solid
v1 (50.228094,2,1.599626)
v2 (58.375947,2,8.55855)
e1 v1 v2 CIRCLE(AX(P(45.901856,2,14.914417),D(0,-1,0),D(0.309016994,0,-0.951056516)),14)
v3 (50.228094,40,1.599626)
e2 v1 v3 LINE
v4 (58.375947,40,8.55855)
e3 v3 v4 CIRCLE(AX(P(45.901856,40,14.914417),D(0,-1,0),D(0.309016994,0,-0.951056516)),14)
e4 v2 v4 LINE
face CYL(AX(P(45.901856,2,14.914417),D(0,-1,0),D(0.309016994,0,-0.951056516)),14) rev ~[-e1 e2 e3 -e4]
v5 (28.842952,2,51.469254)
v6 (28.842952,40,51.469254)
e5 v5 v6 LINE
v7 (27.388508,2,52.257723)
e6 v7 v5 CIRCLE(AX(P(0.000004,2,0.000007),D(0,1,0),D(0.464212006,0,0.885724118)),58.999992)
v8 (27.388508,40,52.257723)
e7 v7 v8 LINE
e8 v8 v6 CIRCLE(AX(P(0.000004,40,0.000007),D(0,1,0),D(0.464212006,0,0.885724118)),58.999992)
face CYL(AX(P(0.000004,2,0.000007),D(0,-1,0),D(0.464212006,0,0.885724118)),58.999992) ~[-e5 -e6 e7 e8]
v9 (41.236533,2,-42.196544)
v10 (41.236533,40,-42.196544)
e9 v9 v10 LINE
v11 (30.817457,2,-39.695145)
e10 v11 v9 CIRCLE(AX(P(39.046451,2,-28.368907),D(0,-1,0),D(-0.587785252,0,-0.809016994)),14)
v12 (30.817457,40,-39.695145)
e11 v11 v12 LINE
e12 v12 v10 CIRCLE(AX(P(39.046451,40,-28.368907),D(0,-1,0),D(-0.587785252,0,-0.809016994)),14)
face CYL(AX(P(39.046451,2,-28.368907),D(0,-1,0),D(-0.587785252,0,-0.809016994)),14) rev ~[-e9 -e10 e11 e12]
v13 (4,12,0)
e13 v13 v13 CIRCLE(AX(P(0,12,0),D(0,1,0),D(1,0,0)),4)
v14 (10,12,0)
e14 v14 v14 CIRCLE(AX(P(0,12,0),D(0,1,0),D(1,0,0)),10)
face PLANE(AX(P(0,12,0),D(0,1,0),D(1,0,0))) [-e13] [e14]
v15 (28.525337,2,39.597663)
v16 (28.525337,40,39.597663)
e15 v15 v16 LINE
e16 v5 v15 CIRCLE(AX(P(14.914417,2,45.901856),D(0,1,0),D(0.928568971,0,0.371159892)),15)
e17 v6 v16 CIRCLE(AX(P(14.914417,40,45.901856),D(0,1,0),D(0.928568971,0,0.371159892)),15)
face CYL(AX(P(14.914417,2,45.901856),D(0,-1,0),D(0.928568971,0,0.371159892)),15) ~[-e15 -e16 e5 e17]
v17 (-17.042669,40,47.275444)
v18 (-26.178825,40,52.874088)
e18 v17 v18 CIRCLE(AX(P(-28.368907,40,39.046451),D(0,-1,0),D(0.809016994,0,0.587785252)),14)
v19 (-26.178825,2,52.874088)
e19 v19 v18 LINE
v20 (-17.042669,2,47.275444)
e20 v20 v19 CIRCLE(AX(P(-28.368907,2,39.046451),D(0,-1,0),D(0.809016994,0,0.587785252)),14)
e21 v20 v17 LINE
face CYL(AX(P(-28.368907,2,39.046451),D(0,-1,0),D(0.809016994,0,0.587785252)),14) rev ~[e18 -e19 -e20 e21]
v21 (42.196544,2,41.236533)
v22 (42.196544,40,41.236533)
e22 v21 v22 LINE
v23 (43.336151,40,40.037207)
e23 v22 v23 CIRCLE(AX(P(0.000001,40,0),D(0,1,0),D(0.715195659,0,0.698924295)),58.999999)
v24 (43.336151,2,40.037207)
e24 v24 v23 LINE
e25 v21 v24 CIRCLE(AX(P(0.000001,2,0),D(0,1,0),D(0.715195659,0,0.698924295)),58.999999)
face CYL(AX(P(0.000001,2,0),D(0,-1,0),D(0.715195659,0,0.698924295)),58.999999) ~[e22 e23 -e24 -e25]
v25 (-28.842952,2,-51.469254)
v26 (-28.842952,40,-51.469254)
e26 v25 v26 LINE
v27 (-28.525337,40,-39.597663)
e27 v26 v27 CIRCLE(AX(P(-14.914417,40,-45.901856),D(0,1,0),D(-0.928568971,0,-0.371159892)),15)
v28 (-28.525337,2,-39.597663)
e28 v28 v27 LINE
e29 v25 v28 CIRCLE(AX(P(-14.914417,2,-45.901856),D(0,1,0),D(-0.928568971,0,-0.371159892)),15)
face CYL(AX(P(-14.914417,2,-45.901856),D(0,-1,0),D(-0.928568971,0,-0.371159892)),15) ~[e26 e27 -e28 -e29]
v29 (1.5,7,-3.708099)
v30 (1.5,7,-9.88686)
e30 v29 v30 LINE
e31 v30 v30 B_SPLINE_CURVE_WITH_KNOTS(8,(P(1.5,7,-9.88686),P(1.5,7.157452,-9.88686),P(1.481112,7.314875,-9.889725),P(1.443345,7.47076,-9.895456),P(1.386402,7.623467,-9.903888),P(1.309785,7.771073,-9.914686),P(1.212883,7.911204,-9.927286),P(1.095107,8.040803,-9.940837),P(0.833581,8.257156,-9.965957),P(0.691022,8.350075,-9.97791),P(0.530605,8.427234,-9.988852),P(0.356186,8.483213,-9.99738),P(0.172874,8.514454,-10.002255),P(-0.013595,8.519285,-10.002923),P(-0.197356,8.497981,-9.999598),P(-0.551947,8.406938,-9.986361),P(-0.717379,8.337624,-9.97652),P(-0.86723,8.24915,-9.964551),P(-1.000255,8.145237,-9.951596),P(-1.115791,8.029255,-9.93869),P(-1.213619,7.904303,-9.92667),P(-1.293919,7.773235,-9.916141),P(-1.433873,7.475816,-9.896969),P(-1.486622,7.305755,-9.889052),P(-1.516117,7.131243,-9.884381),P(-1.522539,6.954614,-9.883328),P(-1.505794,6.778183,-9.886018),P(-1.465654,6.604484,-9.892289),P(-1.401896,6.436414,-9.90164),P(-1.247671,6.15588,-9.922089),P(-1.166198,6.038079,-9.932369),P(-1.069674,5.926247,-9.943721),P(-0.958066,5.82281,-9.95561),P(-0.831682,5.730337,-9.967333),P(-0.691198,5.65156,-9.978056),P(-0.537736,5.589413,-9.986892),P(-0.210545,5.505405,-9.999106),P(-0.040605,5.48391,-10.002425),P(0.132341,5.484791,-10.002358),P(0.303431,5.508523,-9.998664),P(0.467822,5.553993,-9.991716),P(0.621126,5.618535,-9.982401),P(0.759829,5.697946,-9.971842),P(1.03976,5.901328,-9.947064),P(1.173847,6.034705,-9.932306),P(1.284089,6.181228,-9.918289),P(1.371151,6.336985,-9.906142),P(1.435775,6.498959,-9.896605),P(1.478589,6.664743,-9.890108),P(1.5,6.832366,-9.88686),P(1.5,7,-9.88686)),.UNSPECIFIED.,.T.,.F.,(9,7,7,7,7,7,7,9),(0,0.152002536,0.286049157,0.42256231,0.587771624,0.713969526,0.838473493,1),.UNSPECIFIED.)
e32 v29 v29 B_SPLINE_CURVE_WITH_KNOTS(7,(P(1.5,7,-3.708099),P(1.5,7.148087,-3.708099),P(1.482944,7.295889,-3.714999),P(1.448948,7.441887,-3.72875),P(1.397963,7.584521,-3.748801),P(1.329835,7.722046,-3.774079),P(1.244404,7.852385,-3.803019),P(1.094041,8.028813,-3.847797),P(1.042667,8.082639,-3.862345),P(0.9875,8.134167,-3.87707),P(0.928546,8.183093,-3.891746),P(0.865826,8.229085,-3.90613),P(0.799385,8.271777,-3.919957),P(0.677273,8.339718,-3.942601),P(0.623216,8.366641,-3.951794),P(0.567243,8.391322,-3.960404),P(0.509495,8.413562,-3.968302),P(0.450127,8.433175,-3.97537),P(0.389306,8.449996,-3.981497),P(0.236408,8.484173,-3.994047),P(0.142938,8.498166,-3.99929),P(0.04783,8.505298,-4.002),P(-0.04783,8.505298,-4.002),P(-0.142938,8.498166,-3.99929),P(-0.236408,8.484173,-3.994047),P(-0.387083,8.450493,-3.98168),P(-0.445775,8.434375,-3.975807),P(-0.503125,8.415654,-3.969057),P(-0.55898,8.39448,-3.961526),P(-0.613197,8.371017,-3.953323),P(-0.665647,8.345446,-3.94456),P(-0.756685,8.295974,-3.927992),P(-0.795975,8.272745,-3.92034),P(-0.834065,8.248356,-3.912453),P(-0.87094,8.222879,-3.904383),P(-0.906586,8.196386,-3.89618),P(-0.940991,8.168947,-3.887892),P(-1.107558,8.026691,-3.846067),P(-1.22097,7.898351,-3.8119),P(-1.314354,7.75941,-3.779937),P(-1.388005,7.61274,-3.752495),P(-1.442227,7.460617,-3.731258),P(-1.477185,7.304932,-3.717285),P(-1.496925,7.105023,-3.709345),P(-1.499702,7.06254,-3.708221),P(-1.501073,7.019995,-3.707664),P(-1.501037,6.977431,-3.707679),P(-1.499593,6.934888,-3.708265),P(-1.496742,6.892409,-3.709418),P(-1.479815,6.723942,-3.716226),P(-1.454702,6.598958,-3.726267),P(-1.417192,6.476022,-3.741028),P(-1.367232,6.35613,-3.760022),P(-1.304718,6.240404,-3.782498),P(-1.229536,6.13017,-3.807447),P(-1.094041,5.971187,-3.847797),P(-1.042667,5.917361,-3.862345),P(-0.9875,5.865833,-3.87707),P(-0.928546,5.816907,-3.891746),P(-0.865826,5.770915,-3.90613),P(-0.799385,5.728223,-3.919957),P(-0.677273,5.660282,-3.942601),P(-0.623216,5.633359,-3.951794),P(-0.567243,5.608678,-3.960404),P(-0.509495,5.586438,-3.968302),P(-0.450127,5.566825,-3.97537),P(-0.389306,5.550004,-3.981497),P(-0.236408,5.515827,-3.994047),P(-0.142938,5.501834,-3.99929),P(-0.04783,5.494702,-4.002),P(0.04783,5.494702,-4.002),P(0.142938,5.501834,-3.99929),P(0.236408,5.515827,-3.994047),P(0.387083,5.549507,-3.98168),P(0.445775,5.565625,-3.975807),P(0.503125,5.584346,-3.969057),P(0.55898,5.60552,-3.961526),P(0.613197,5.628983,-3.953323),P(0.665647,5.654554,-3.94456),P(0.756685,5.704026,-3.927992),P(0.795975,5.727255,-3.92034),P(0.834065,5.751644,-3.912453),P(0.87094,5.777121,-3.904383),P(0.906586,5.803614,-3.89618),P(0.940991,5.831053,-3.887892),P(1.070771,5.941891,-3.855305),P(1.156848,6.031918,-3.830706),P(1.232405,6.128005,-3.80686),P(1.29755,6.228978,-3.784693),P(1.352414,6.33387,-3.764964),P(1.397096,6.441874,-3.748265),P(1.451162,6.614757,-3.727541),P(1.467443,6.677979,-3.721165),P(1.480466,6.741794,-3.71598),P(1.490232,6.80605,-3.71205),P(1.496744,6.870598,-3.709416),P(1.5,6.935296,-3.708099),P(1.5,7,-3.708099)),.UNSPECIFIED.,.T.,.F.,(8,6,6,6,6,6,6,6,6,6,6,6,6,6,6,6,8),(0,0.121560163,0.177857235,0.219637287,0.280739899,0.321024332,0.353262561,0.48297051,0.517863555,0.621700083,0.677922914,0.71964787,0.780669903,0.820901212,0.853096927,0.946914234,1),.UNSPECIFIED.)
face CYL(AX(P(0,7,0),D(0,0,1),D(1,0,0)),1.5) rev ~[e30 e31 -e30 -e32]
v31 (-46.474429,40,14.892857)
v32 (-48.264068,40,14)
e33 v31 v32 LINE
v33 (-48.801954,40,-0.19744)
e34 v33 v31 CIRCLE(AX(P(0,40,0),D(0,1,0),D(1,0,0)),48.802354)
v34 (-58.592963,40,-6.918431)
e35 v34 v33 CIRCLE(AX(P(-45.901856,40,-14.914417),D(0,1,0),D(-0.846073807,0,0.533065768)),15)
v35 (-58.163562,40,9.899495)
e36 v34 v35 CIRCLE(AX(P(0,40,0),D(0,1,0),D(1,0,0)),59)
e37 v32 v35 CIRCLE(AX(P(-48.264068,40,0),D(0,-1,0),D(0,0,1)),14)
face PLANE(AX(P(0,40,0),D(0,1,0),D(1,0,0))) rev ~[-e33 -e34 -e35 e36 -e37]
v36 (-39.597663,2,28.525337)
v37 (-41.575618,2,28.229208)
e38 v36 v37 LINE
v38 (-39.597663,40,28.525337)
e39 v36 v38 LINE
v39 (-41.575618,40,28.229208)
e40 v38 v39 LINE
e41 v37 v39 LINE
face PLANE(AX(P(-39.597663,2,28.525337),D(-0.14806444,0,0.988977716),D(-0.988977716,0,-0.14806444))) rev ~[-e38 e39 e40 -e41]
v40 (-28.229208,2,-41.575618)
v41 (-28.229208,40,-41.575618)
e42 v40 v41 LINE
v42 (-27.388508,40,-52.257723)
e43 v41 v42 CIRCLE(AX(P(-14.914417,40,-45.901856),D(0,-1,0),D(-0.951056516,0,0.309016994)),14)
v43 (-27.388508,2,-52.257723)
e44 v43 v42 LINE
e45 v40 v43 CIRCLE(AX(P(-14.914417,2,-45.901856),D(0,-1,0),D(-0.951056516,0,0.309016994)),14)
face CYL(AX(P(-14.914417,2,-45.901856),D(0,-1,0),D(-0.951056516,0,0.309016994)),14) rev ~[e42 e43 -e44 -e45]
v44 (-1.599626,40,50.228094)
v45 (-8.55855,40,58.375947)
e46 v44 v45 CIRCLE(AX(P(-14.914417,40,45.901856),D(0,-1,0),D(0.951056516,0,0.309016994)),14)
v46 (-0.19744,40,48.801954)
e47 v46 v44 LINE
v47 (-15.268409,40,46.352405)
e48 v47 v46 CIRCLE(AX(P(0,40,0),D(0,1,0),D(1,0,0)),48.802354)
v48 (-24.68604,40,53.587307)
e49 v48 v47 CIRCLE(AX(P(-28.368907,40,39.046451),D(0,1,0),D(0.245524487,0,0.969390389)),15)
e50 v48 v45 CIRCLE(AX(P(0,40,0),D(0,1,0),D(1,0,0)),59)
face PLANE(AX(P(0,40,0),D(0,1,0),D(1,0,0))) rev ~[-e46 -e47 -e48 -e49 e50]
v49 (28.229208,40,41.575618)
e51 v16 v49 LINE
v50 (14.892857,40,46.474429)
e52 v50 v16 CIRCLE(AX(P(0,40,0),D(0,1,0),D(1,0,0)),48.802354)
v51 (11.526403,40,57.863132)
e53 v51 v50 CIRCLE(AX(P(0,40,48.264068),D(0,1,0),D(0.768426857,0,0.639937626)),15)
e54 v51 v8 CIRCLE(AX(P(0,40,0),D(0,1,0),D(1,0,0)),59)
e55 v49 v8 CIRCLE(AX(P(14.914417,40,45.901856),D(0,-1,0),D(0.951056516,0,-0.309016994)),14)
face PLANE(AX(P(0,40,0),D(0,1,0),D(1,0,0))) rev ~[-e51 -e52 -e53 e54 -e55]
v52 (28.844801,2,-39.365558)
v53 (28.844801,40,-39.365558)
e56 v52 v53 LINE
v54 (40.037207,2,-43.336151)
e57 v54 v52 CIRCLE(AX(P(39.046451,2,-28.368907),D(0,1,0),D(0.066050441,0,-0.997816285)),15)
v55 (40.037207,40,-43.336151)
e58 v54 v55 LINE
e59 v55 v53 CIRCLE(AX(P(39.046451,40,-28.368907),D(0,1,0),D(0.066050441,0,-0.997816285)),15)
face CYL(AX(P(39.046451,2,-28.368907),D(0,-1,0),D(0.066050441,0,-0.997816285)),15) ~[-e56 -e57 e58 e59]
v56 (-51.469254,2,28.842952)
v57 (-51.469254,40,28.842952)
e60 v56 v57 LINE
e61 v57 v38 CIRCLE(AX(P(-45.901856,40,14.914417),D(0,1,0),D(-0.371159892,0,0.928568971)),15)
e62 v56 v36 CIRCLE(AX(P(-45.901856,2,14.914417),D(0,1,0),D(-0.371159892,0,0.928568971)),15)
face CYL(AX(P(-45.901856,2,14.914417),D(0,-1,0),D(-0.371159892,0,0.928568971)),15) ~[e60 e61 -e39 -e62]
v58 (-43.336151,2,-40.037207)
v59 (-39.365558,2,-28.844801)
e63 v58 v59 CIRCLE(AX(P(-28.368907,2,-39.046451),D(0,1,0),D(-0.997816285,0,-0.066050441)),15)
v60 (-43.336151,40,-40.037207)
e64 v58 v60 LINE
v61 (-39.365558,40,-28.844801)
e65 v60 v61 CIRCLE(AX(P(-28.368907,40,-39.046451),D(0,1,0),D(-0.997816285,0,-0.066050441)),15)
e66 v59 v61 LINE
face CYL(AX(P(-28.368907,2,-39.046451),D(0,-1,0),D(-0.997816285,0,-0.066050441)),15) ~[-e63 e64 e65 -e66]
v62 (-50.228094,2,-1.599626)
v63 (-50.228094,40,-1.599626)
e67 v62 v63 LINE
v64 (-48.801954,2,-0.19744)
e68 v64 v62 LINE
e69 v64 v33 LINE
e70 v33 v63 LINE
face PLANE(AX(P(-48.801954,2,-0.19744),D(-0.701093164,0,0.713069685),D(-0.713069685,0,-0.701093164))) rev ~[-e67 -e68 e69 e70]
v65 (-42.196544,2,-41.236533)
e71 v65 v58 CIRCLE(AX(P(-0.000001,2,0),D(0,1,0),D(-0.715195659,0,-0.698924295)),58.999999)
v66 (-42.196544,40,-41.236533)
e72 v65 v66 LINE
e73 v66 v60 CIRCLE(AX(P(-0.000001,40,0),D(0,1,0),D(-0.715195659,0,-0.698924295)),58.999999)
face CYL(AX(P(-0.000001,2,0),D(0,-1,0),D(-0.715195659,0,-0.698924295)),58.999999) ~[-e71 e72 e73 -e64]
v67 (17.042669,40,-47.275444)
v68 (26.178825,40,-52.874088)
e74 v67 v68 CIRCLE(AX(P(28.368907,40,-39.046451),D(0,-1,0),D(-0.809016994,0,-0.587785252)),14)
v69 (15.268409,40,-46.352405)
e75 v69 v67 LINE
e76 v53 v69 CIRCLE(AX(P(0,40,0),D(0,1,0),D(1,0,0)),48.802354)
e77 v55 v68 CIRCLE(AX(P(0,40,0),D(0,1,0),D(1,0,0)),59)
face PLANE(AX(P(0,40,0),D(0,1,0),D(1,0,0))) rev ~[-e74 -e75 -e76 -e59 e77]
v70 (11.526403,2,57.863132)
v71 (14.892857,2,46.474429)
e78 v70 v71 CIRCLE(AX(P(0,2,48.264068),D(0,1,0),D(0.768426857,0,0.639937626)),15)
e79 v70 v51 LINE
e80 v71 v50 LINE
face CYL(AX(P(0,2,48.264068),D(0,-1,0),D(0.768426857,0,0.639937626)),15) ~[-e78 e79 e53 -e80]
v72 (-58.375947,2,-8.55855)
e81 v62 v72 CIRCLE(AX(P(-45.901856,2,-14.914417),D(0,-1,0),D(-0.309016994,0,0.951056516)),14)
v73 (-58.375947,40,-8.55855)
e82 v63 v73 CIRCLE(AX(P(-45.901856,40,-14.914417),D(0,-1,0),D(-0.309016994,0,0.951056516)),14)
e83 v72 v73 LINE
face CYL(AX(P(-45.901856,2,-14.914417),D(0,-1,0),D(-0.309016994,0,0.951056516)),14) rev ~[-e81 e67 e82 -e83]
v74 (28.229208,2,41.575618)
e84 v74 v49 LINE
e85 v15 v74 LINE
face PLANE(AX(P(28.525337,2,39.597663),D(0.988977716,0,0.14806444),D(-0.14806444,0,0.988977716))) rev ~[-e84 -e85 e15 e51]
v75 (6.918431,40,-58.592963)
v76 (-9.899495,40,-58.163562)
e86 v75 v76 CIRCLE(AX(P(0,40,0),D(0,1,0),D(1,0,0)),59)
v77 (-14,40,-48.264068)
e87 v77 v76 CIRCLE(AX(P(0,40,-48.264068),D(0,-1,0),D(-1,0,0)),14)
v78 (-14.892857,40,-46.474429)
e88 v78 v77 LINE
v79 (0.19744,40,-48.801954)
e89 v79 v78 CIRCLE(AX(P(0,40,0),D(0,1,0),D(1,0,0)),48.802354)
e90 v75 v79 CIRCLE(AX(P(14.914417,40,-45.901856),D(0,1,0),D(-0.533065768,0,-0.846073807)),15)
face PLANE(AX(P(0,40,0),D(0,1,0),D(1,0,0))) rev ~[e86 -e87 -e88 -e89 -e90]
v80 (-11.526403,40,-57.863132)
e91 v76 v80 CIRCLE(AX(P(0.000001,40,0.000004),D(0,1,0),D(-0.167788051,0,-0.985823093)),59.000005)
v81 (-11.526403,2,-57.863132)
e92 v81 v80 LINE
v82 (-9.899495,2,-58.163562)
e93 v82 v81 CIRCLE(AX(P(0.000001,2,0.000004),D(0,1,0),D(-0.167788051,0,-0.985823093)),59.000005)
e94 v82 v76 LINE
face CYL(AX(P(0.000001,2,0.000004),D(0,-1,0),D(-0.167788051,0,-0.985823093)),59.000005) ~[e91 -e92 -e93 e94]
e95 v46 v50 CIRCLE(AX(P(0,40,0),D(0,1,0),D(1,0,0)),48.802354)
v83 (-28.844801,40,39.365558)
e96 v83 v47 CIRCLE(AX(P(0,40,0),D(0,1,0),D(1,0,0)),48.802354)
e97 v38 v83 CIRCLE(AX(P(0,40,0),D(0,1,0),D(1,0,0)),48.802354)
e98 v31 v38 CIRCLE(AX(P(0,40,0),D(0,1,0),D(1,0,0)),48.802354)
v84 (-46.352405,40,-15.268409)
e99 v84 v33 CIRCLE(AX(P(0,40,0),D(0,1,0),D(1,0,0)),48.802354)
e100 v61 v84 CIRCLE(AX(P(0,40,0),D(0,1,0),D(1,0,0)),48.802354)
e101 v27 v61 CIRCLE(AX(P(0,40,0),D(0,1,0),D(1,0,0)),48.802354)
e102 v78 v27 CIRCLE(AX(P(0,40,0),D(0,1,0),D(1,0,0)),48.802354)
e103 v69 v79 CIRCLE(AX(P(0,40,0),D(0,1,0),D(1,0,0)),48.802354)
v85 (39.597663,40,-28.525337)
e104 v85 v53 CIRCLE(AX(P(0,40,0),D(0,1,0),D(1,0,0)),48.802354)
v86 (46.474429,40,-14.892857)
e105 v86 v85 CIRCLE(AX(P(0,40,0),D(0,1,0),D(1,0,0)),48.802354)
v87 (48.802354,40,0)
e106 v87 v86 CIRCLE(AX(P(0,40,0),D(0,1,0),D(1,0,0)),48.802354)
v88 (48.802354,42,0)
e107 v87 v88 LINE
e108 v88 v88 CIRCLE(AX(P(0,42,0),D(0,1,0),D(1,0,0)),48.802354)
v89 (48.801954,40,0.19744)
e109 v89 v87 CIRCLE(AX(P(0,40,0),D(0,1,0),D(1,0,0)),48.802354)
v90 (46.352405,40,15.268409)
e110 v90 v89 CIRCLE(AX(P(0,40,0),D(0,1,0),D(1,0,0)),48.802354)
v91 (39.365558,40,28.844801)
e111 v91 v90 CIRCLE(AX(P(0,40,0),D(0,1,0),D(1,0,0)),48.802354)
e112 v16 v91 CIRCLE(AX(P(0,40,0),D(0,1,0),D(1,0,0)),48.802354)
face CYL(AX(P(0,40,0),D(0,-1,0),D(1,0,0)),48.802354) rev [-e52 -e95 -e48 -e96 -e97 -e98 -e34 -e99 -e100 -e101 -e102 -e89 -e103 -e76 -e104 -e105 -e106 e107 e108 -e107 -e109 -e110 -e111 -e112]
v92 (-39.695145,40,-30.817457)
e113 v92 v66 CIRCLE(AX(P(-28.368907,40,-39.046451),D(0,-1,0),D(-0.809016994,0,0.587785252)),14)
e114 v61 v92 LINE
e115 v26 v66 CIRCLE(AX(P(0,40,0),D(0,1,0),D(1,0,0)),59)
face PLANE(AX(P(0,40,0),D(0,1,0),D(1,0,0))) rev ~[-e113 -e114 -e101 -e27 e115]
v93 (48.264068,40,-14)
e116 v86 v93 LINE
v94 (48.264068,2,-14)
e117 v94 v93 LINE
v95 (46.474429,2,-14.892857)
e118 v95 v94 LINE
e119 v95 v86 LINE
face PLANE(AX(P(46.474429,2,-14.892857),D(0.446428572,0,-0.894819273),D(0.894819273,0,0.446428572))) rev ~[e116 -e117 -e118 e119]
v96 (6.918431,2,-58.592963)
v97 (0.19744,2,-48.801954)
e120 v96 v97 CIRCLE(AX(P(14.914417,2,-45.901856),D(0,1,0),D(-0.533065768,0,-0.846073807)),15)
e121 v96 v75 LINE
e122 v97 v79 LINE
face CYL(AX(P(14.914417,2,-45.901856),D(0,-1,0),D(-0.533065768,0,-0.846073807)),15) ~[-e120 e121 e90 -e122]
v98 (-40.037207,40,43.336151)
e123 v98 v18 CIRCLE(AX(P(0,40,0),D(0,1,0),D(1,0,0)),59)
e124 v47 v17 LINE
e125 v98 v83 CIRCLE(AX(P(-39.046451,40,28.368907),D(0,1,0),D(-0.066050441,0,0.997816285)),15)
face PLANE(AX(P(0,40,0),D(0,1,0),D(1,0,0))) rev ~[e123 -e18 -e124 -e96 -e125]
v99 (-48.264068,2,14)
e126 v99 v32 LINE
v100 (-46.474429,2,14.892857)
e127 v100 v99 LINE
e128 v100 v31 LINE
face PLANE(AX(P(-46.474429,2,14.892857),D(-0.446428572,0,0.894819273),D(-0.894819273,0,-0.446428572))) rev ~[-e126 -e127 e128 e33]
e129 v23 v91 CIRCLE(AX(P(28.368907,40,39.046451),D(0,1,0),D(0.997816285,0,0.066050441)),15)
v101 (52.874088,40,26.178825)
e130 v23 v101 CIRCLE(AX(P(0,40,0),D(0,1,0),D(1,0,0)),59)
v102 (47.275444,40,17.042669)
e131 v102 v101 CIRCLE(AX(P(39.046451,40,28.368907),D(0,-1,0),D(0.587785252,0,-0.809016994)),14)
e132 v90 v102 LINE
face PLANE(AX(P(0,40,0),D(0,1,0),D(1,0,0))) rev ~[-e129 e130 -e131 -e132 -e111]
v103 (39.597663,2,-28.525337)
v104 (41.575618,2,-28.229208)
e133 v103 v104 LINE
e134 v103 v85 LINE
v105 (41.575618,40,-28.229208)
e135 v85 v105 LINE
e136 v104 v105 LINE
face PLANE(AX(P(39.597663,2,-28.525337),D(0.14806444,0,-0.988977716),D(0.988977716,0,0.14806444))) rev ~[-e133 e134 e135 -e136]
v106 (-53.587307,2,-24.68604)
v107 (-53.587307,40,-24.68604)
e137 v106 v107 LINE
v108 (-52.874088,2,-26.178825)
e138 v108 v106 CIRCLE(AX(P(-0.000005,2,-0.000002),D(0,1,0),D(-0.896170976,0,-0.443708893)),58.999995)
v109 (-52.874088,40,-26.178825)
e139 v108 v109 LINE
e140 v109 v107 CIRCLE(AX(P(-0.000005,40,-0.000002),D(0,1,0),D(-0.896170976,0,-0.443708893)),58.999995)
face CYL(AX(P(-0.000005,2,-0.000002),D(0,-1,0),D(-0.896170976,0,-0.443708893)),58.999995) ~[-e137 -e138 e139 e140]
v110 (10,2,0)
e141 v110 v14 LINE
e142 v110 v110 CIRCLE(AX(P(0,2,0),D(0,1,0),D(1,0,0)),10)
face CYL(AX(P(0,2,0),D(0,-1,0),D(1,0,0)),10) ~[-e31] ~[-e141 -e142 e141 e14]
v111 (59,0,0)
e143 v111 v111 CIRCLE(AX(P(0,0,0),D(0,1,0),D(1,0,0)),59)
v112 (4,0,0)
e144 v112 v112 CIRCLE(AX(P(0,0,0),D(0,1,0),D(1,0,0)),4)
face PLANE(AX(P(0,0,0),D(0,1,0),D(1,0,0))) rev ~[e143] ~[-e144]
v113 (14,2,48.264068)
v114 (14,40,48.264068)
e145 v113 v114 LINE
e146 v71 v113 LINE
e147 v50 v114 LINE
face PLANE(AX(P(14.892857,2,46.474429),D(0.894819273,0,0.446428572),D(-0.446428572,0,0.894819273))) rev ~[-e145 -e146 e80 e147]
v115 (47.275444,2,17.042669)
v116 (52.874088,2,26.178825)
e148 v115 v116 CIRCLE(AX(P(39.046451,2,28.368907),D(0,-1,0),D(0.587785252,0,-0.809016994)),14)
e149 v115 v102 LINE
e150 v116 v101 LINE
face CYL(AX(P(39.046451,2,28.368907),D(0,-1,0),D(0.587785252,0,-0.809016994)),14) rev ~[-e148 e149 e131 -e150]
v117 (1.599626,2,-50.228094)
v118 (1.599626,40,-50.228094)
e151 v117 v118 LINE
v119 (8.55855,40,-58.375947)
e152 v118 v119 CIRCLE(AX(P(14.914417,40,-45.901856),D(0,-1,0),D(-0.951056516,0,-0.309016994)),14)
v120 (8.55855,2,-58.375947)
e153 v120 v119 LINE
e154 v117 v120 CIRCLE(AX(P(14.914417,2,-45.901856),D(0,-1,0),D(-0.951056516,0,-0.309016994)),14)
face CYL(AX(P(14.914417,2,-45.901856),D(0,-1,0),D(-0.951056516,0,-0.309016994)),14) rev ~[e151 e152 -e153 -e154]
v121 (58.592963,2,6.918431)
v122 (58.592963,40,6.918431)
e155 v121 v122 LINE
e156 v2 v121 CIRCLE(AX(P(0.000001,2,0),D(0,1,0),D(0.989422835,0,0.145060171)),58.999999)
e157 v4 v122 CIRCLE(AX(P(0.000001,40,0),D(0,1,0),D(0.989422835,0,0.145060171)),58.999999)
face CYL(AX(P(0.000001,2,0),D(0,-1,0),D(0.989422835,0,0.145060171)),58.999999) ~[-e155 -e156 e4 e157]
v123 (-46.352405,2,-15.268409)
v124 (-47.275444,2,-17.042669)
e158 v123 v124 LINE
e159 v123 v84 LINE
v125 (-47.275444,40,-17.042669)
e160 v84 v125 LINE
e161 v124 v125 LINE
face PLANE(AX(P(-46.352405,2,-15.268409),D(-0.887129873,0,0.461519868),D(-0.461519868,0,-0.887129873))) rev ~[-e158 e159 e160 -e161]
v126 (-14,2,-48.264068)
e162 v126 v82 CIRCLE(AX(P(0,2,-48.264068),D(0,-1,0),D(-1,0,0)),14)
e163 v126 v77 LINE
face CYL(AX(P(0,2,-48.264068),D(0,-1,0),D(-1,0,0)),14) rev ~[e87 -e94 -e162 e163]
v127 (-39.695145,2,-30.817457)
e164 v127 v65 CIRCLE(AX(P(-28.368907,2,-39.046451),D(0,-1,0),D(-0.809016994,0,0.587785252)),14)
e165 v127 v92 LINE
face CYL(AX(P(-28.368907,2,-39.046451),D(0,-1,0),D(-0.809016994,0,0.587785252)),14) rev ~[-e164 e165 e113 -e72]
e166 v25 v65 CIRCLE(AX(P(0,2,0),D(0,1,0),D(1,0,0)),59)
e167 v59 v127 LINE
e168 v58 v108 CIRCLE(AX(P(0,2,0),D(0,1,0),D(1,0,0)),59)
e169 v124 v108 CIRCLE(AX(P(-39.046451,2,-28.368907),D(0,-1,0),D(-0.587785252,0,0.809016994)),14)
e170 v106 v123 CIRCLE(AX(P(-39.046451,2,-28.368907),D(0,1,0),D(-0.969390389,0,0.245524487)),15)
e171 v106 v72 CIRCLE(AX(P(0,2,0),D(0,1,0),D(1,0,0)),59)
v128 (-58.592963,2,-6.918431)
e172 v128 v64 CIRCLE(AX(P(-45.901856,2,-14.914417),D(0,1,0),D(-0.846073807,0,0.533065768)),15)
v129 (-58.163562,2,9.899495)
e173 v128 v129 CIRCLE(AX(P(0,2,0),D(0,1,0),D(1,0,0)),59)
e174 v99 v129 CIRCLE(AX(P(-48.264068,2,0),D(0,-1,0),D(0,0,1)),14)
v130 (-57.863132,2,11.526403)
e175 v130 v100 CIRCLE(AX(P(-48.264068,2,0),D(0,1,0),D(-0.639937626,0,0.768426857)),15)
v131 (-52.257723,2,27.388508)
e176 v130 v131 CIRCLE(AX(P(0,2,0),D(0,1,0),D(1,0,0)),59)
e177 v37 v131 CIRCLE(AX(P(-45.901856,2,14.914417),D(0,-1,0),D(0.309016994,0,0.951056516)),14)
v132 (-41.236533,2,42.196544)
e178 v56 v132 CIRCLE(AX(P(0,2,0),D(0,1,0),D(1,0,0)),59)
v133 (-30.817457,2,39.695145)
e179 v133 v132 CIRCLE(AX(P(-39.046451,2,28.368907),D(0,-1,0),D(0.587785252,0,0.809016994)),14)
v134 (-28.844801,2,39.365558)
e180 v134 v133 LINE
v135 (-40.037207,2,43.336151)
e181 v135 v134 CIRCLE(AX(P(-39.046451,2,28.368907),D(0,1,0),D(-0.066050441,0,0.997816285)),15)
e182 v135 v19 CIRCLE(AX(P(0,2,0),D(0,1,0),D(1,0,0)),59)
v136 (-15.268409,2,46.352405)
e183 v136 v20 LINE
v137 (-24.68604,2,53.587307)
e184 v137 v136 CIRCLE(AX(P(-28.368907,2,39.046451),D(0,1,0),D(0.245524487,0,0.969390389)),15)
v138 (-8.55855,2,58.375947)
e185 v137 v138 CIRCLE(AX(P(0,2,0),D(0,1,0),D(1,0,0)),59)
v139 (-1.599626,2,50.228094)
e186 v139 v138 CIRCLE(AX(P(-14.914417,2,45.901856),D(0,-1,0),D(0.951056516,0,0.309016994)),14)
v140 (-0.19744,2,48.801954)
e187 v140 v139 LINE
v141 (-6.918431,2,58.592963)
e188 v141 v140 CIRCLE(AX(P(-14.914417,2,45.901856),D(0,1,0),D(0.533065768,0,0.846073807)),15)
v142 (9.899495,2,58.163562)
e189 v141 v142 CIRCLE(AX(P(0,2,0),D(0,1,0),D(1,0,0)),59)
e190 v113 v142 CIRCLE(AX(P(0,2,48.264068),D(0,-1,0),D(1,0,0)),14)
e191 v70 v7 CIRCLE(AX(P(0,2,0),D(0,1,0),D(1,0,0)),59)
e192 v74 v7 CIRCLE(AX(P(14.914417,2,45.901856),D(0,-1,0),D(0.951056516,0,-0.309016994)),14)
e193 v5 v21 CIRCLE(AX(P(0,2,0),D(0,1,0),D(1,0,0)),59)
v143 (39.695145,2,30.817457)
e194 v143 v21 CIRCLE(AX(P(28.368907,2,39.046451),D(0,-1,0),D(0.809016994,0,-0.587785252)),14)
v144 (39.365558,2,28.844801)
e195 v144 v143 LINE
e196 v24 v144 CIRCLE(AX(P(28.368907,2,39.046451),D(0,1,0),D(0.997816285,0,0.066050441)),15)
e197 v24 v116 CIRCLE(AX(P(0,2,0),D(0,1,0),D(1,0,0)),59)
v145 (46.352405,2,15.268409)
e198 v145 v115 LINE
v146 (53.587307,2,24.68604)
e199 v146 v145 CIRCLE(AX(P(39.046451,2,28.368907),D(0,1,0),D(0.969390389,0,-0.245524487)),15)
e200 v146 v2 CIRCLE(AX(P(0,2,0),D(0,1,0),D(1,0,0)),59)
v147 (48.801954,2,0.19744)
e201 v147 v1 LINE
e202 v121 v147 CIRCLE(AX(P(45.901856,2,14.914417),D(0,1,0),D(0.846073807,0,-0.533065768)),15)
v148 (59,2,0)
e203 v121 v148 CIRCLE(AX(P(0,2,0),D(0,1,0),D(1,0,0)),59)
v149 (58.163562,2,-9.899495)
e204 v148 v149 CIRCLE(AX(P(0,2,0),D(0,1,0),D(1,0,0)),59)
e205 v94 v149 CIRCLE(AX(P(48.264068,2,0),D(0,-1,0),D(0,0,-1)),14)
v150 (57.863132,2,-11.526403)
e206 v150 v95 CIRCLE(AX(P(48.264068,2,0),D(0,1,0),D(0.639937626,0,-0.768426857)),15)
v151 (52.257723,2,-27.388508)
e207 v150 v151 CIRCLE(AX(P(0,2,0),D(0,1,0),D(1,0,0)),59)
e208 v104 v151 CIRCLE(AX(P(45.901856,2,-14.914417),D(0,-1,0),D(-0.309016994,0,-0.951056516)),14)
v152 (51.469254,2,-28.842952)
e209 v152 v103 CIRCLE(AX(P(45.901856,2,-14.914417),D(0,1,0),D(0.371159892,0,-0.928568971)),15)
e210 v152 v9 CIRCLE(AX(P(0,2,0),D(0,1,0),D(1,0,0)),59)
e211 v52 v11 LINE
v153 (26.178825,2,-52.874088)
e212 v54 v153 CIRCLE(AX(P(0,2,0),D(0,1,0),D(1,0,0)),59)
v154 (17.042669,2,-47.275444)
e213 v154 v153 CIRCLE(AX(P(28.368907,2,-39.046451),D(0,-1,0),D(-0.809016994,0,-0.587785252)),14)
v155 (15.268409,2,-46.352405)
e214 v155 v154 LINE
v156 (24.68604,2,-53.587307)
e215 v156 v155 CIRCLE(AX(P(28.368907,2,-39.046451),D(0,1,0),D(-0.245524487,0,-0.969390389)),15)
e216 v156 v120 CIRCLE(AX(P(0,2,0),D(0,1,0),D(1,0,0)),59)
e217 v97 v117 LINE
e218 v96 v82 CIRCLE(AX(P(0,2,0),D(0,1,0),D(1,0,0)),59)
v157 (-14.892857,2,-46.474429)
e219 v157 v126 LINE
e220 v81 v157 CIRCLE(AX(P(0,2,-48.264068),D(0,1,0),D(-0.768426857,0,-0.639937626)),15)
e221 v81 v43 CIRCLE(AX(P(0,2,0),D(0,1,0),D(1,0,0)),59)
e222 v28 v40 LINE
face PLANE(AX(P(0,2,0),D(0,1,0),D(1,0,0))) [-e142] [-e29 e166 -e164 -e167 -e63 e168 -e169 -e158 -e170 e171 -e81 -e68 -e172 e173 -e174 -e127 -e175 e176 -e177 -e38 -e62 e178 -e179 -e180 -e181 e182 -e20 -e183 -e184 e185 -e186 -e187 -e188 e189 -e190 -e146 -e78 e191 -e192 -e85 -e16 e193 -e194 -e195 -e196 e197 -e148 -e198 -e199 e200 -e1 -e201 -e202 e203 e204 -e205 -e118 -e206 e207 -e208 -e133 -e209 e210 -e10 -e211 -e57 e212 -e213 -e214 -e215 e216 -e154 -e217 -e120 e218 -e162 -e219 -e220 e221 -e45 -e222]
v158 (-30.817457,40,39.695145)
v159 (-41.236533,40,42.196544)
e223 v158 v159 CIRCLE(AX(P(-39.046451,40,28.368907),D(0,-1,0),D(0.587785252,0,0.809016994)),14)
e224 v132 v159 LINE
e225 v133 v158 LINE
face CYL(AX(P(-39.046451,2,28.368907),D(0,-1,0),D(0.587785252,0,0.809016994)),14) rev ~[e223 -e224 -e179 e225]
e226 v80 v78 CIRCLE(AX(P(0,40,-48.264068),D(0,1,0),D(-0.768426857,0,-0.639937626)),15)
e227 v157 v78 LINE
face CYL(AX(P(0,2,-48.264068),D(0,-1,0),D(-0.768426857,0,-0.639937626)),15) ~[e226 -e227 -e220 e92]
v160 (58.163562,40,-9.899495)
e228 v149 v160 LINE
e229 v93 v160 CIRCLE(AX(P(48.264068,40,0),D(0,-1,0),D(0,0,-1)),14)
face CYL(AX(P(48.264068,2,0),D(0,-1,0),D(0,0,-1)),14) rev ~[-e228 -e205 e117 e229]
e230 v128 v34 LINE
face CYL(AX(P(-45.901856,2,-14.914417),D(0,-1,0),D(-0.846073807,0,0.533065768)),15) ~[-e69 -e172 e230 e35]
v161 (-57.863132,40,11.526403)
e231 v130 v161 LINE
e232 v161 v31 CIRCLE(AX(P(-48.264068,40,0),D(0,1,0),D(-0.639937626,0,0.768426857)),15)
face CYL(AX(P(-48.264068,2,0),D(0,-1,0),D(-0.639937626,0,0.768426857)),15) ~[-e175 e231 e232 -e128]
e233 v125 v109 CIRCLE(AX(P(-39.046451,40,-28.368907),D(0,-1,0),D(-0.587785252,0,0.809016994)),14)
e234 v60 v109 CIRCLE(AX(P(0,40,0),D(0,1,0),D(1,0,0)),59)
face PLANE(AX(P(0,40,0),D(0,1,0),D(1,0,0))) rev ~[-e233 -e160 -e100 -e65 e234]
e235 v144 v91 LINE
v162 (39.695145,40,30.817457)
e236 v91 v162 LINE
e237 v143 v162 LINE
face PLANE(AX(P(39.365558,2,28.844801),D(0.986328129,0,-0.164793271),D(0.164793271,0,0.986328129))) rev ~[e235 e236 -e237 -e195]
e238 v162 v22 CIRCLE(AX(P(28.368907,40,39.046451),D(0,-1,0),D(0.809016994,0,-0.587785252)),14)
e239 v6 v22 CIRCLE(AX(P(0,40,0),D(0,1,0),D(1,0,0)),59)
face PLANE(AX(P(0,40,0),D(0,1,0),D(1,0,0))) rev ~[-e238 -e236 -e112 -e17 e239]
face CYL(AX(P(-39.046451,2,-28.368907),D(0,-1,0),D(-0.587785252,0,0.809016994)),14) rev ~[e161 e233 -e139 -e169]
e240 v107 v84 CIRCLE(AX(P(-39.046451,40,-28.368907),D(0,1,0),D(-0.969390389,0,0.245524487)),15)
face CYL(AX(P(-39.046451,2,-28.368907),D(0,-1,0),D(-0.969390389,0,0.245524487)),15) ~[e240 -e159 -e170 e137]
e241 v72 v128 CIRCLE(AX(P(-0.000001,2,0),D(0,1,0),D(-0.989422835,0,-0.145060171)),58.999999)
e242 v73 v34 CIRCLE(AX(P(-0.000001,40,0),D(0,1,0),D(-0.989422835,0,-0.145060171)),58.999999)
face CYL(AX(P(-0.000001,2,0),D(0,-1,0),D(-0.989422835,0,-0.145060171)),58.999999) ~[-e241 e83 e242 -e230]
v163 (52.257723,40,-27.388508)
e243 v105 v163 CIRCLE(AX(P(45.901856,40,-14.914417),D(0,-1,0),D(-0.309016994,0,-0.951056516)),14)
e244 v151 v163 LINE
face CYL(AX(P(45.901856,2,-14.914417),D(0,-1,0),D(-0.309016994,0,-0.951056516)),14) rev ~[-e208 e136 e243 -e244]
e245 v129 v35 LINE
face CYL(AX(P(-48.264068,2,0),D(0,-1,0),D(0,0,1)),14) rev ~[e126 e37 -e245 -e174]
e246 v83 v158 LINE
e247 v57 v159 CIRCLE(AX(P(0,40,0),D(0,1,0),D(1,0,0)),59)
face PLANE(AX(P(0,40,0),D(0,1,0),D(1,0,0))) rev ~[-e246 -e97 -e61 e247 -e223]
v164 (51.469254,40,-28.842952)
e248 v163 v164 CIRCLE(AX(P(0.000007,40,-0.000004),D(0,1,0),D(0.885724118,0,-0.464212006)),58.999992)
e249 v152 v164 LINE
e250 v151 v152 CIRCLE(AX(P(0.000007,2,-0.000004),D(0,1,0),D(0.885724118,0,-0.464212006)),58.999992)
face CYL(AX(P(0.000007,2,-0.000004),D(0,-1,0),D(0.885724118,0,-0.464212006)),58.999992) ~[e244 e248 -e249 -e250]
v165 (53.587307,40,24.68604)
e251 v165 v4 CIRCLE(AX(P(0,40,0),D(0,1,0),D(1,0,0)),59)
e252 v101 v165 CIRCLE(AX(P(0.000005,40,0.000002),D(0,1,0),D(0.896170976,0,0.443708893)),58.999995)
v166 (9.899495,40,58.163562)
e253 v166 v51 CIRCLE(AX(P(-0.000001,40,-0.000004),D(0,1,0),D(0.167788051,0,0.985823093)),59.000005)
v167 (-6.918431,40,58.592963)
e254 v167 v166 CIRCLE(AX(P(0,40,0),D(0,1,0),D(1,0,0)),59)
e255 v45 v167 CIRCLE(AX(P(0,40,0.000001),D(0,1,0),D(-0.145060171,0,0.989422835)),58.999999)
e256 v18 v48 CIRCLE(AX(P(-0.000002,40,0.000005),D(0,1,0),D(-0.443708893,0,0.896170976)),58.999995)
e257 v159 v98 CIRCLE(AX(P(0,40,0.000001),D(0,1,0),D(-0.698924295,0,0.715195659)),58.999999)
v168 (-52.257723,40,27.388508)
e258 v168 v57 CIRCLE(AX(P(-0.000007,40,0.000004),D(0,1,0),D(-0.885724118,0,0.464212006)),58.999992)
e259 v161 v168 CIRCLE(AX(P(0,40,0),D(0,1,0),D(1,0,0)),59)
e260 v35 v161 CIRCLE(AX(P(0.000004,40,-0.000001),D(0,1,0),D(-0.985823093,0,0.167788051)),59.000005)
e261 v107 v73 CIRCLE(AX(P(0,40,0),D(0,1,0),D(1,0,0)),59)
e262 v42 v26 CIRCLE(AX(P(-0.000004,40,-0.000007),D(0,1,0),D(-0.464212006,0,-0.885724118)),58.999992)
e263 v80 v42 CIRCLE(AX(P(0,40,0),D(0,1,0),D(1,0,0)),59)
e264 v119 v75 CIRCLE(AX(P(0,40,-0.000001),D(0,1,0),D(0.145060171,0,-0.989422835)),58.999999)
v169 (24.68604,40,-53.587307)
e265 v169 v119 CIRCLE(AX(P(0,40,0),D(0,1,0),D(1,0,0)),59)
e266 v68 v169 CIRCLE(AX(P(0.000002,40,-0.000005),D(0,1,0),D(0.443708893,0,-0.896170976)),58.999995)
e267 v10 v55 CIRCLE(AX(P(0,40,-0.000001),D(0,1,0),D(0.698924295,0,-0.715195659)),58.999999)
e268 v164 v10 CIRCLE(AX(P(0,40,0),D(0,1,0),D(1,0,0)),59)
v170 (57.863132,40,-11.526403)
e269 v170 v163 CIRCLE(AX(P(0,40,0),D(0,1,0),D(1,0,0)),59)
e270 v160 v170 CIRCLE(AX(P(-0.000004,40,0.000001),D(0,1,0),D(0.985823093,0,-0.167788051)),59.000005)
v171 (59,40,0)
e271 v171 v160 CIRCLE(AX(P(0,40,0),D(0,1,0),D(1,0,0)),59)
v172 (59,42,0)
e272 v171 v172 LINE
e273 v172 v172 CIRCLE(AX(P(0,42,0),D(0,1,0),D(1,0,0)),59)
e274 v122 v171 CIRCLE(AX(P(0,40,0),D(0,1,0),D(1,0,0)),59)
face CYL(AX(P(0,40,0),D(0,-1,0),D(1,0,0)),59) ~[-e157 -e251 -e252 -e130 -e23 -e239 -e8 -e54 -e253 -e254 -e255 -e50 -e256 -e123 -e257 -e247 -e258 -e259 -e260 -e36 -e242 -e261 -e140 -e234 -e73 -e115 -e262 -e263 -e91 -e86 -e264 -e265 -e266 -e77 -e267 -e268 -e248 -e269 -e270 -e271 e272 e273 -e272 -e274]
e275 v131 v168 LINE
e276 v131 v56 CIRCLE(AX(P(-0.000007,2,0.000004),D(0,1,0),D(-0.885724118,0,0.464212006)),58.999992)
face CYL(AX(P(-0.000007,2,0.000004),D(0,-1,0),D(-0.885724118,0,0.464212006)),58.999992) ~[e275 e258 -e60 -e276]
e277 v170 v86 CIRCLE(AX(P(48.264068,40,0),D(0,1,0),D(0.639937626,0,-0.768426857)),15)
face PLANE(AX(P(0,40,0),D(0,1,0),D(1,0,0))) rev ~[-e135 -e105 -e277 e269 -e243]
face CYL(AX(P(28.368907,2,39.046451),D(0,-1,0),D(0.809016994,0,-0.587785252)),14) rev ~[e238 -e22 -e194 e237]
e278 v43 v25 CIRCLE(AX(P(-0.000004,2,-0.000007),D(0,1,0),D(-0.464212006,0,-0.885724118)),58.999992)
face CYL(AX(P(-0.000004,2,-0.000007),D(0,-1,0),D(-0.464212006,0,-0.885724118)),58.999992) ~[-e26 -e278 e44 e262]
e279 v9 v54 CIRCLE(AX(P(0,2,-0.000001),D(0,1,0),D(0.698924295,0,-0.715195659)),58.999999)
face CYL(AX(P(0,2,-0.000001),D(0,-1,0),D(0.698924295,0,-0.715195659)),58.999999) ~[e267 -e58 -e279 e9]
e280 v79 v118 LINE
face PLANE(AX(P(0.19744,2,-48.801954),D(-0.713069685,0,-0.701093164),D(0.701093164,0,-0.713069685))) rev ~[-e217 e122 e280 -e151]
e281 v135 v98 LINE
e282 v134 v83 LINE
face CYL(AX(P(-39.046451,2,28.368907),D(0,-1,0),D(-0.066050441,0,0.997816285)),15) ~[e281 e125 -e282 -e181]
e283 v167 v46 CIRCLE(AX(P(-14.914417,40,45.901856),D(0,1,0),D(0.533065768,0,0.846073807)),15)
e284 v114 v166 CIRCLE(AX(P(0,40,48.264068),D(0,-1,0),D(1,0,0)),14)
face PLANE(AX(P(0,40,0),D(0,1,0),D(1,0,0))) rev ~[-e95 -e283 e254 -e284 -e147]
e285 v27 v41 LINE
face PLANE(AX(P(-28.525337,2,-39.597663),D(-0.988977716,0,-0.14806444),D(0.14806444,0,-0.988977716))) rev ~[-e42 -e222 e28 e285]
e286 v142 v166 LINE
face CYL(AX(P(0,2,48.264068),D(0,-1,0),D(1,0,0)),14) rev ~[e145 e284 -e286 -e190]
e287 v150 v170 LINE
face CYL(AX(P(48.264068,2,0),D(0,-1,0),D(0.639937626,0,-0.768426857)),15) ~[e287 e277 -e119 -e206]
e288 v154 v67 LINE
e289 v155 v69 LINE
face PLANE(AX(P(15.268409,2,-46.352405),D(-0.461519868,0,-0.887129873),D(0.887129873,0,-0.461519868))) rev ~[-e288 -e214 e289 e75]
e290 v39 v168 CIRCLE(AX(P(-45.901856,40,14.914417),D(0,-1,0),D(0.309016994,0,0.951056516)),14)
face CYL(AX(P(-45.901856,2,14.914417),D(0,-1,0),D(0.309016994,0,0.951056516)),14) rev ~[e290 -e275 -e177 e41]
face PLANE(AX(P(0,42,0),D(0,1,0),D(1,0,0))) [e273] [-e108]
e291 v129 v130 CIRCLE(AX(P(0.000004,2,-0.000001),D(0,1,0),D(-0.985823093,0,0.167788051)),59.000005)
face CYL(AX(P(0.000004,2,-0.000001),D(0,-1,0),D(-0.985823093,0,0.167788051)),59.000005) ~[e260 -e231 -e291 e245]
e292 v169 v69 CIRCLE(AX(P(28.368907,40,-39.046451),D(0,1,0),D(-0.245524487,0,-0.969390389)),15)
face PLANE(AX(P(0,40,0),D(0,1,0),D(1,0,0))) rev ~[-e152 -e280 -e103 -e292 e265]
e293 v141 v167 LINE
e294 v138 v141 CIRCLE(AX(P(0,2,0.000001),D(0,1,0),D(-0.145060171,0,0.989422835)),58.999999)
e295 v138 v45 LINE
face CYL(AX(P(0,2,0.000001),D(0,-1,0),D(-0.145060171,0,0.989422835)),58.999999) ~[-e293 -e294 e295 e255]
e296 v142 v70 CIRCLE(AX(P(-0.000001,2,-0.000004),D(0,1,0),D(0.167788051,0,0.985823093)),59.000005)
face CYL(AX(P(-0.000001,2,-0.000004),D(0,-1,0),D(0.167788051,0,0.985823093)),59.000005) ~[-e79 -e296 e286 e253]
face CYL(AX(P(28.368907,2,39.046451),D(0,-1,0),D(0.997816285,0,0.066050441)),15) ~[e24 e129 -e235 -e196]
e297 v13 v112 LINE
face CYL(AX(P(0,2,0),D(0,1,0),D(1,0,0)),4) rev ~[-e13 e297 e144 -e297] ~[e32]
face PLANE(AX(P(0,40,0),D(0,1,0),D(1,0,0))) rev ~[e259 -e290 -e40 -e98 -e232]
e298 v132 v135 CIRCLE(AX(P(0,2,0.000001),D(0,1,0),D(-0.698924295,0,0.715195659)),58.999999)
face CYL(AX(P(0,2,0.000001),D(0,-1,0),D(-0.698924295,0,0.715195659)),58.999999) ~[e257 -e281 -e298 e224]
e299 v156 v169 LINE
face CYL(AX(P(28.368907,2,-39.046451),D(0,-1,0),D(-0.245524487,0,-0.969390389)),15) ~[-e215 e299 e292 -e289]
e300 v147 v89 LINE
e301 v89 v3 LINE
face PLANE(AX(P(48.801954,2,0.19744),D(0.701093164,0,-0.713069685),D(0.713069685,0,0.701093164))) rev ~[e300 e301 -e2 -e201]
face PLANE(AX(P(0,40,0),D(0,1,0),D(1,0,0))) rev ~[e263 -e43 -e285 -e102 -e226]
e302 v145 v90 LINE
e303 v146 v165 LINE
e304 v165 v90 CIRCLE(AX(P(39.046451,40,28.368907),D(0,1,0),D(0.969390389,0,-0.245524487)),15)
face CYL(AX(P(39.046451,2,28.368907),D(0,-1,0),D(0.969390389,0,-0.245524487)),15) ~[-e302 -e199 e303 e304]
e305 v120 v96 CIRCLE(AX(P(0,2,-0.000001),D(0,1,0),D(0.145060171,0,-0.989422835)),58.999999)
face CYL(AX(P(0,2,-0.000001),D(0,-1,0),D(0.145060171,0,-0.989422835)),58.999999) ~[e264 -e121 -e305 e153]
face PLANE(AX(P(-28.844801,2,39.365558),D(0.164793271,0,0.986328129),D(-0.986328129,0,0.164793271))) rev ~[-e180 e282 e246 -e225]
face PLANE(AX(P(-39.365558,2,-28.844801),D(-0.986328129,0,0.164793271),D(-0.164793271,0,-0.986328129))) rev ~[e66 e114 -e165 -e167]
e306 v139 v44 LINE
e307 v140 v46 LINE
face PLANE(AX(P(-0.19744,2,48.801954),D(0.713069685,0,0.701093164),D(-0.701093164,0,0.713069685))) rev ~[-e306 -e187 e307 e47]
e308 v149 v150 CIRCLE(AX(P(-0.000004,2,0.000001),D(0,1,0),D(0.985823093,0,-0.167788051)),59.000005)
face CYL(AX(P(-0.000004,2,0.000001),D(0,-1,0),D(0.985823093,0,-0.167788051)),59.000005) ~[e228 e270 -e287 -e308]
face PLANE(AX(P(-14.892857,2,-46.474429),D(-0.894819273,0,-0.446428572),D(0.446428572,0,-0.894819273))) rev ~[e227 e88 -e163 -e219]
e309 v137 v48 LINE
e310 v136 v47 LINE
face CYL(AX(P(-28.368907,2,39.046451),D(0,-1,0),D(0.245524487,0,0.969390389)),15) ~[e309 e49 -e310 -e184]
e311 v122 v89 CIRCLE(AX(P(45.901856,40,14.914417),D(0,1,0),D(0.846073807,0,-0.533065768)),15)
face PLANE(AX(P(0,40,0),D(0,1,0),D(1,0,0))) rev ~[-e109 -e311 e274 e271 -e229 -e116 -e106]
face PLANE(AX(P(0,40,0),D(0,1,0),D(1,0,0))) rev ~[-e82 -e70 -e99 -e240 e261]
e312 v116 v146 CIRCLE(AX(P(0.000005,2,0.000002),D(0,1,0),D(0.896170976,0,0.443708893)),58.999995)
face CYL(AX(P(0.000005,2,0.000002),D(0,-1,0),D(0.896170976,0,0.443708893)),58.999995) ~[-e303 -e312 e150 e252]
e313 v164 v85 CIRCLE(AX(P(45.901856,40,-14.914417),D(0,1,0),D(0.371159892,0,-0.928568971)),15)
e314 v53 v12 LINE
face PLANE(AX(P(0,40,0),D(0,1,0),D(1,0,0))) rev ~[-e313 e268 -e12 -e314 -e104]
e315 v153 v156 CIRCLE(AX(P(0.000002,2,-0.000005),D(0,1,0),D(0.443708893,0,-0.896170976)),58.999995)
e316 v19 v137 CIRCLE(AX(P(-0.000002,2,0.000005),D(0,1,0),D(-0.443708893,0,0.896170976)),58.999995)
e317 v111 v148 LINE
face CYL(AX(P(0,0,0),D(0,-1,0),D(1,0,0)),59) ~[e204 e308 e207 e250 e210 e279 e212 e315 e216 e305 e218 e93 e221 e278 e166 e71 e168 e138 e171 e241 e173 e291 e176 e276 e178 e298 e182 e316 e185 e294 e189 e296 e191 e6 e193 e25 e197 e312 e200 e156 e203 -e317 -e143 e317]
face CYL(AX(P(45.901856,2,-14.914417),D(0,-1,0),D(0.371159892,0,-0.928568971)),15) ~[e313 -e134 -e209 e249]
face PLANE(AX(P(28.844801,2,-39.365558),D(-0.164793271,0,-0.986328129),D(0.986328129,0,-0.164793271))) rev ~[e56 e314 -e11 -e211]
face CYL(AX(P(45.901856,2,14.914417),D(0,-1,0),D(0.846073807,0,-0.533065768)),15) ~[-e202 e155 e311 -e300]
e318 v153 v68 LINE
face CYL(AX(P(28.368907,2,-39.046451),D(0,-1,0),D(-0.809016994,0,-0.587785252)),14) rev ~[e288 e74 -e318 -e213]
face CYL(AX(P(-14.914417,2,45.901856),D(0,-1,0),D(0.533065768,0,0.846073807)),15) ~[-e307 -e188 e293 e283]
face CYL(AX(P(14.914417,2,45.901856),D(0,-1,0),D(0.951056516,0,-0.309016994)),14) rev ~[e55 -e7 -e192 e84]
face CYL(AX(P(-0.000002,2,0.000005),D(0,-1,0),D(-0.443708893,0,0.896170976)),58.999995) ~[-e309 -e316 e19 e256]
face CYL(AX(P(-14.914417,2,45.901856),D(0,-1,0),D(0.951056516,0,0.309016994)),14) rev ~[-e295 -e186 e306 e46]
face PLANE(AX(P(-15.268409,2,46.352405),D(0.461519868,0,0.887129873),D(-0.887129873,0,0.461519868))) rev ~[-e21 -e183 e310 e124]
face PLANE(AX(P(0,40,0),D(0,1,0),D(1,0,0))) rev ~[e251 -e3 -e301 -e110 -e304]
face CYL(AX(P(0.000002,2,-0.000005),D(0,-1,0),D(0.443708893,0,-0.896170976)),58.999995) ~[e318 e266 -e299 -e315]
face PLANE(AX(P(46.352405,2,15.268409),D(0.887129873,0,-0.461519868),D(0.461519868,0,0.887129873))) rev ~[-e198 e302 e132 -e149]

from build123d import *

# Parameters (mm, degrees)
SKETCH2_R           = 59
BOSS_EXTRUDE1_DEPTH = 2
BOSS_EXTRUDE2_DEPTH = 38
SKETCH4_R           = 59
SKETCH4_R_2         = 48.802353881
BOSS_EXTRUDE3_DEPTH = 2
SKETCH5_R           = 10
SKETCH5_R_2         = 4
BOSS_EXTRUDE4_DEPTH = 10
SKETCH6_R           = 1.5
CUT_EXTRUDE1_DEPTH  = 25
SKETCH7_R           = 4
CUT_EXTRUDE2_DEPTH  = 3


with BuildPart() as part:
    # Sketch2 → Boss-Extrude1 (new body)
    with BuildSketch(Plane(origin=(0, 0, 0), x_dir=(1, 0, 0), z_dir=(0, 1, 0))):
        Circle(SKETCH2_R)
    extrude(amount=BOSS_EXTRUDE1_DEPTH)

    # Sketch3 → Boss-Extrude2 (add)
    with BuildSketch(Plane(origin=(0, 2, 0), x_dir=(1, 0, 0), z_dir=(0, 1, 0))):
        with BuildLine():
            Line((-14.892857143, 46.474428995), (-14, 48.26406754))
            ThreePointArc((-14, 48.26406754), (-12.934313455, 53.621635593), (-9.899494937, 58.163562477))
            ThreePointArc((-9.899494937, 58.163562477), (-10.714001991, 58.019049986), (-11.526402854, 57.863131934))
            ThreePointArc((-11.526402854, 57.863131934), (-14.384712835, 52.516130174), (-14.892857143, 46.474428995))
        make_face()
        with BuildLine():
            Line((0.197439531, 48.801954489), (1.599625859, 50.228093858))
            ThreePointArc((1.599625859, 50.228093858), (4.268733569, 54.994128614), (8.558550091, 58.375947276))
            ThreePointArc((8.558550091, 58.375947276), (7.739251034, 58.490204252), (6.918430571, 58.592963045))
            ThreePointArc((6.918430571, 58.592963045), (2.547701825, 54.390928538), (0.197439531, 48.801954489))
        make_face()
        with BuildLine():
            Line((15.268409449, 46.352404654), (17.042669195, 47.27544439))
            ThreePointArc((17.042669195, 47.27544439), (21.05392721, 50.983413159), (26.178824605, 52.874087626))
            ThreePointArc((26.178824605, 52.874087626), (25.434932246, 53.2359298), (24.686039809, 53.587306692))
            ThreePointArc((24.686039809, 53.587306692), (19.230729681, 50.941563853), (15.268409449, 46.352404654))
        make_face()
        with BuildLine():
            Line((28.844801068, 39.365558495), (30.817457326, 39.695145037))
            ThreePointArc((30.817457326, 39.695145037), (35.778215764, 41.982086001), (41.236533368, 42.196543884))
            ThreePointArc((41.236533368, 42.196543884), (40.640865073, 42.770551623), (40.037207473, 43.336151396))
            ThreePointArc((40.037207473, 43.336151396), (34.031319726, 42.505683967), (28.844801068, 39.365558495))
        make_face()
        with BuildLine():
            Line((39.597662585, 28.525337195), (41.575618016, 28.229208316))
            ThreePointArc((41.575618016, 28.229208316), (47.000283277, 28.87125976), (52.257722933, 27.388508426))
            ThreePointArc((52.257722933, 27.388508426), (51.868586866, 28.118493853), (51.469254313, 28.842951659))
            ThreePointArc((51.469254313, 28.842951659), (45.500687087, 29.90905158), (39.597662585, 28.525337195))
        make_face()
        with BuildLine():
            Line((46.474428995, 14.892857143), (48.26406754, 14))
            ThreePointArc((48.26406754, 14), (53.621635593, 12.934313455), (58.163562477, 9.899494937))
            ThreePointArc((58.163562477, 9.899494937), (58.019049986, 10.714001991), (57.863131934, 11.526402854))
            ThreePointArc((57.863131934, 11.526402854), (52.516130174, 14.384712835), (46.474428995, 14.892857143))
        make_face()
        with BuildLine():
            Line((48.801954489, -0.197439531), (50.228093858, -1.599625859))
            ThreePointArc((50.228093858, -1.599625859), (54.994128614, -4.268733569), (58.375947276, -8.558550091))
            ThreePointArc((58.375947276, -8.558550091), (58.490204252, -7.739251034), (58.592963045, -6.918430571))
            ThreePointArc((58.592963045, -6.918430571), (54.390928538, -2.547701825), (48.801954489, -0.197439531))
        make_face()
        with BuildLine():
            Line((46.352404654, -15.268409449), (47.27544439, -17.042669195))
            ThreePointArc((47.27544439, -17.042669195), (50.983413159, -21.05392721), (52.874087626, -26.178824605))
            ThreePointArc((52.874087626, -26.178824605), (53.2359298, -25.434932246), (53.587306692, -24.686039809))
            ThreePointArc((53.587306692, -24.686039809), (50.941563853, -19.230729681), (46.352404654, -15.268409449))
        make_face()
        with BuildLine():
            Line((39.365558495, -28.844801068), (39.695145037, -30.817457326))
            ThreePointArc((39.695145037, -30.817457326), (41.982086001, -35.778215764), (42.196543884, -41.236533368))
            ThreePointArc((42.196543884, -41.236533368), (42.770551623, -40.640865073), (43.336151396, -40.037207473))
            ThreePointArc((43.336151396, -40.037207473), (42.505683967, -34.031319726), (39.365558495, -28.844801068))
        make_face()
        with BuildLine():
            Line((28.525337195, -39.597662585), (28.229208316, -41.575618016))
            ThreePointArc((28.229208316, -41.575618016), (28.87125976, -47.000283277), (27.388508426, -52.257722933))
            ThreePointArc((27.388508426, -52.257722933), (28.118493853, -51.868586866), (28.842951659, -51.469254313))
            ThreePointArc((28.842951659, -51.469254313), (29.90905158, -45.500687087), (28.525337195, -39.597662585))
        make_face()
        with BuildLine():
            Line((14.892857143, -46.474428995), (14, -48.26406754))
            ThreePointArc((14, -48.26406754), (12.934313455, -53.621635593), (9.899494937, -58.163562477))
            ThreePointArc((9.899494937, -58.163562477), (10.714001991, -58.019049986), (11.526402854, -57.863131934))
            ThreePointArc((11.526402854, -57.863131934), (14.384712835, -52.516130174), (14.892857143, -46.474428995))
        make_face()
        with BuildLine():
            Line((-0.197439531, -48.801954489), (-1.599625859, -50.228093858))
            ThreePointArc((-1.599625859, -50.228093858), (-4.268733569, -54.994128614), (-8.558550091, -58.375947276))
            ThreePointArc((-8.558550091, -58.375947276), (-7.739251034, -58.490204252), (-6.918430571, -58.592963045))
            ThreePointArc((-6.918430571, -58.592963045), (-2.547701825, -54.390928538), (-0.197439531, -48.801954489))
        make_face()
        with BuildLine():
            Line((-15.268409449, -46.352404654), (-17.042669195, -47.27544439))
            ThreePointArc((-17.042669195, -47.27544439), (-21.05392721, -50.983413159), (-26.178824605, -52.874087626))
            ThreePointArc((-26.178824605, -52.874087626), (-25.434932246, -53.2359298), (-24.686039809, -53.587306692))
            ThreePointArc((-24.686039809, -53.587306692), (-19.230729681, -50.941563853), (-15.268409449, -46.352404654))
        make_face()
        with BuildLine():
            Line((-28.844801068, -39.365558495), (-30.817457326, -39.695145037))
            ThreePointArc((-30.817457326, -39.695145037), (-35.778215764, -41.982086001), (-41.236533368, -42.196543884))
            ThreePointArc((-41.236533368, -42.196543884), (-40.640865073, -42.770551623), (-40.037207473, -43.336151396))
            ThreePointArc((-40.037207473, -43.336151396), (-34.031319726, -42.505683967), (-28.844801068, -39.365558495))
        make_face()
        with BuildLine():
            Line((-39.597662585, -28.525337195), (-41.575618016, -28.229208316))
            ThreePointArc((-41.575618016, -28.229208316), (-47.000283277, -28.87125976), (-52.257722933, -27.388508426))
            ThreePointArc((-52.257722933, -27.388508426), (-51.868586866, -28.118493853), (-51.469254313, -28.842951659))
            ThreePointArc((-51.469254313, -28.842951659), (-45.500687087, -29.90905158), (-39.597662585, -28.525337195))
        make_face()
        with BuildLine():
            Line((-46.474428995, -14.892857143), (-48.26406754, -14))
            ThreePointArc((-48.26406754, -14), (-53.621635593, -12.934313455), (-58.163562477, -9.899494937))
            ThreePointArc((-58.163562477, -9.899494937), (-58.019049986, -10.714001991), (-57.863131934, -11.526402854))
            ThreePointArc((-57.863131934, -11.526402854), (-52.516130174, -14.384712835), (-46.474428995, -14.892857143))
        make_face()
        with BuildLine():
            Line((-48.801954489, 0.197439531), (-50.228093858, 1.599625859))
            ThreePointArc((-50.228093858, 1.599625859), (-54.994128614, 4.268733569), (-58.375947276, 8.558550091))
            ThreePointArc((-58.375947276, 8.558550091), (-58.490204252, 7.739251034), (-58.592963045, 6.918430571))
            ThreePointArc((-58.592963045, 6.918430571), (-54.390928538, 2.547701825), (-48.801954489, 0.197439531))
        make_face()
        with BuildLine():
            Line((-46.352404654, 15.268409449), (-47.27544439, 17.042669195))
            ThreePointArc((-47.27544439, 17.042669195), (-50.983413159, 21.05392721), (-52.874087626, 26.178824605))
            ThreePointArc((-52.874087626, 26.178824605), (-53.2359298, 25.434932246), (-53.587306692, 24.686039809))
            ThreePointArc((-53.587306692, 24.686039809), (-50.941563853, 19.230729681), (-46.352404654, 15.268409449))
        make_face()
        with BuildLine():
            Line((-39.365558495, 28.844801068), (-39.695145037, 30.817457326))
            ThreePointArc((-39.695145037, 30.817457326), (-41.982086001, 35.778215764), (-42.196543884, 41.236533368))
            ThreePointArc((-42.196543884, 41.236533368), (-42.770551623, 40.640865073), (-43.336151396, 40.037207473))
            ThreePointArc((-43.336151396, 40.037207473), (-42.505683967, 34.031319726), (-39.365558495, 28.844801068))
        make_face()
        with BuildLine():
            Line((-28.525337195, 39.597662585), (-28.229208316, 41.575618016))
            ThreePointArc((-28.229208316, 41.575618016), (-28.87125976, 47.000283277), (-27.388508426, 52.257722933))
            ThreePointArc((-27.388508426, 52.257722933), (-28.118493853, 51.868586866), (-28.842951659, 51.469254313))
            ThreePointArc((-28.842951659, 51.469254313), (-29.90905158, 45.500687087), (-28.525337195, 39.597662585))
        make_face()
    extrude(amount=BOSS_EXTRUDE2_DEPTH)

    # Sketch4 → Boss-Extrude3 (add)
    with BuildSketch(Plane(origin=(0, 40, 0), x_dir=(1, 0, 0), z_dir=(0, 1, 0))):
        Circle(SKETCH4_R)
        Circle(SKETCH4_R_2, mode=Mode.SUBTRACT)
    extrude(amount=BOSS_EXTRUDE3_DEPTH)

    # Sketch5 → Boss-Extrude4 (add)
    with BuildSketch(Plane(origin=(0, 2, 0), x_dir=(1, 0, 0), z_dir=(0, 1, 0))):
        Circle(SKETCH5_R)
        Circle(SKETCH5_R_2, mode=Mode.SUBTRACT)
    extrude(amount=BOSS_EXTRUDE4_DEPTH)

    # Sketch6 → Cut-Extrude1 (cut)
    with BuildSketch(Plane.XY):
        with Locations((0, 7)):
            Circle(SKETCH6_R)
    extrude(amount=-CUT_EXTRUDE1_DEPTH, mode=Mode.SUBTRACT)

    # Sketch7 → Cut-Extrude2 (cut, through all)
    with BuildSketch(Plane(origin=(0, 2, 0), x_dir=(1, 0, 0), z_dir=(0, 1, 0))):
        Circle(SKETCH7_R)
    extrude(amount=-CUT_EXTRUDE2_DEPTH, mode=Mode.SUBTRACT)


solid = part.part
